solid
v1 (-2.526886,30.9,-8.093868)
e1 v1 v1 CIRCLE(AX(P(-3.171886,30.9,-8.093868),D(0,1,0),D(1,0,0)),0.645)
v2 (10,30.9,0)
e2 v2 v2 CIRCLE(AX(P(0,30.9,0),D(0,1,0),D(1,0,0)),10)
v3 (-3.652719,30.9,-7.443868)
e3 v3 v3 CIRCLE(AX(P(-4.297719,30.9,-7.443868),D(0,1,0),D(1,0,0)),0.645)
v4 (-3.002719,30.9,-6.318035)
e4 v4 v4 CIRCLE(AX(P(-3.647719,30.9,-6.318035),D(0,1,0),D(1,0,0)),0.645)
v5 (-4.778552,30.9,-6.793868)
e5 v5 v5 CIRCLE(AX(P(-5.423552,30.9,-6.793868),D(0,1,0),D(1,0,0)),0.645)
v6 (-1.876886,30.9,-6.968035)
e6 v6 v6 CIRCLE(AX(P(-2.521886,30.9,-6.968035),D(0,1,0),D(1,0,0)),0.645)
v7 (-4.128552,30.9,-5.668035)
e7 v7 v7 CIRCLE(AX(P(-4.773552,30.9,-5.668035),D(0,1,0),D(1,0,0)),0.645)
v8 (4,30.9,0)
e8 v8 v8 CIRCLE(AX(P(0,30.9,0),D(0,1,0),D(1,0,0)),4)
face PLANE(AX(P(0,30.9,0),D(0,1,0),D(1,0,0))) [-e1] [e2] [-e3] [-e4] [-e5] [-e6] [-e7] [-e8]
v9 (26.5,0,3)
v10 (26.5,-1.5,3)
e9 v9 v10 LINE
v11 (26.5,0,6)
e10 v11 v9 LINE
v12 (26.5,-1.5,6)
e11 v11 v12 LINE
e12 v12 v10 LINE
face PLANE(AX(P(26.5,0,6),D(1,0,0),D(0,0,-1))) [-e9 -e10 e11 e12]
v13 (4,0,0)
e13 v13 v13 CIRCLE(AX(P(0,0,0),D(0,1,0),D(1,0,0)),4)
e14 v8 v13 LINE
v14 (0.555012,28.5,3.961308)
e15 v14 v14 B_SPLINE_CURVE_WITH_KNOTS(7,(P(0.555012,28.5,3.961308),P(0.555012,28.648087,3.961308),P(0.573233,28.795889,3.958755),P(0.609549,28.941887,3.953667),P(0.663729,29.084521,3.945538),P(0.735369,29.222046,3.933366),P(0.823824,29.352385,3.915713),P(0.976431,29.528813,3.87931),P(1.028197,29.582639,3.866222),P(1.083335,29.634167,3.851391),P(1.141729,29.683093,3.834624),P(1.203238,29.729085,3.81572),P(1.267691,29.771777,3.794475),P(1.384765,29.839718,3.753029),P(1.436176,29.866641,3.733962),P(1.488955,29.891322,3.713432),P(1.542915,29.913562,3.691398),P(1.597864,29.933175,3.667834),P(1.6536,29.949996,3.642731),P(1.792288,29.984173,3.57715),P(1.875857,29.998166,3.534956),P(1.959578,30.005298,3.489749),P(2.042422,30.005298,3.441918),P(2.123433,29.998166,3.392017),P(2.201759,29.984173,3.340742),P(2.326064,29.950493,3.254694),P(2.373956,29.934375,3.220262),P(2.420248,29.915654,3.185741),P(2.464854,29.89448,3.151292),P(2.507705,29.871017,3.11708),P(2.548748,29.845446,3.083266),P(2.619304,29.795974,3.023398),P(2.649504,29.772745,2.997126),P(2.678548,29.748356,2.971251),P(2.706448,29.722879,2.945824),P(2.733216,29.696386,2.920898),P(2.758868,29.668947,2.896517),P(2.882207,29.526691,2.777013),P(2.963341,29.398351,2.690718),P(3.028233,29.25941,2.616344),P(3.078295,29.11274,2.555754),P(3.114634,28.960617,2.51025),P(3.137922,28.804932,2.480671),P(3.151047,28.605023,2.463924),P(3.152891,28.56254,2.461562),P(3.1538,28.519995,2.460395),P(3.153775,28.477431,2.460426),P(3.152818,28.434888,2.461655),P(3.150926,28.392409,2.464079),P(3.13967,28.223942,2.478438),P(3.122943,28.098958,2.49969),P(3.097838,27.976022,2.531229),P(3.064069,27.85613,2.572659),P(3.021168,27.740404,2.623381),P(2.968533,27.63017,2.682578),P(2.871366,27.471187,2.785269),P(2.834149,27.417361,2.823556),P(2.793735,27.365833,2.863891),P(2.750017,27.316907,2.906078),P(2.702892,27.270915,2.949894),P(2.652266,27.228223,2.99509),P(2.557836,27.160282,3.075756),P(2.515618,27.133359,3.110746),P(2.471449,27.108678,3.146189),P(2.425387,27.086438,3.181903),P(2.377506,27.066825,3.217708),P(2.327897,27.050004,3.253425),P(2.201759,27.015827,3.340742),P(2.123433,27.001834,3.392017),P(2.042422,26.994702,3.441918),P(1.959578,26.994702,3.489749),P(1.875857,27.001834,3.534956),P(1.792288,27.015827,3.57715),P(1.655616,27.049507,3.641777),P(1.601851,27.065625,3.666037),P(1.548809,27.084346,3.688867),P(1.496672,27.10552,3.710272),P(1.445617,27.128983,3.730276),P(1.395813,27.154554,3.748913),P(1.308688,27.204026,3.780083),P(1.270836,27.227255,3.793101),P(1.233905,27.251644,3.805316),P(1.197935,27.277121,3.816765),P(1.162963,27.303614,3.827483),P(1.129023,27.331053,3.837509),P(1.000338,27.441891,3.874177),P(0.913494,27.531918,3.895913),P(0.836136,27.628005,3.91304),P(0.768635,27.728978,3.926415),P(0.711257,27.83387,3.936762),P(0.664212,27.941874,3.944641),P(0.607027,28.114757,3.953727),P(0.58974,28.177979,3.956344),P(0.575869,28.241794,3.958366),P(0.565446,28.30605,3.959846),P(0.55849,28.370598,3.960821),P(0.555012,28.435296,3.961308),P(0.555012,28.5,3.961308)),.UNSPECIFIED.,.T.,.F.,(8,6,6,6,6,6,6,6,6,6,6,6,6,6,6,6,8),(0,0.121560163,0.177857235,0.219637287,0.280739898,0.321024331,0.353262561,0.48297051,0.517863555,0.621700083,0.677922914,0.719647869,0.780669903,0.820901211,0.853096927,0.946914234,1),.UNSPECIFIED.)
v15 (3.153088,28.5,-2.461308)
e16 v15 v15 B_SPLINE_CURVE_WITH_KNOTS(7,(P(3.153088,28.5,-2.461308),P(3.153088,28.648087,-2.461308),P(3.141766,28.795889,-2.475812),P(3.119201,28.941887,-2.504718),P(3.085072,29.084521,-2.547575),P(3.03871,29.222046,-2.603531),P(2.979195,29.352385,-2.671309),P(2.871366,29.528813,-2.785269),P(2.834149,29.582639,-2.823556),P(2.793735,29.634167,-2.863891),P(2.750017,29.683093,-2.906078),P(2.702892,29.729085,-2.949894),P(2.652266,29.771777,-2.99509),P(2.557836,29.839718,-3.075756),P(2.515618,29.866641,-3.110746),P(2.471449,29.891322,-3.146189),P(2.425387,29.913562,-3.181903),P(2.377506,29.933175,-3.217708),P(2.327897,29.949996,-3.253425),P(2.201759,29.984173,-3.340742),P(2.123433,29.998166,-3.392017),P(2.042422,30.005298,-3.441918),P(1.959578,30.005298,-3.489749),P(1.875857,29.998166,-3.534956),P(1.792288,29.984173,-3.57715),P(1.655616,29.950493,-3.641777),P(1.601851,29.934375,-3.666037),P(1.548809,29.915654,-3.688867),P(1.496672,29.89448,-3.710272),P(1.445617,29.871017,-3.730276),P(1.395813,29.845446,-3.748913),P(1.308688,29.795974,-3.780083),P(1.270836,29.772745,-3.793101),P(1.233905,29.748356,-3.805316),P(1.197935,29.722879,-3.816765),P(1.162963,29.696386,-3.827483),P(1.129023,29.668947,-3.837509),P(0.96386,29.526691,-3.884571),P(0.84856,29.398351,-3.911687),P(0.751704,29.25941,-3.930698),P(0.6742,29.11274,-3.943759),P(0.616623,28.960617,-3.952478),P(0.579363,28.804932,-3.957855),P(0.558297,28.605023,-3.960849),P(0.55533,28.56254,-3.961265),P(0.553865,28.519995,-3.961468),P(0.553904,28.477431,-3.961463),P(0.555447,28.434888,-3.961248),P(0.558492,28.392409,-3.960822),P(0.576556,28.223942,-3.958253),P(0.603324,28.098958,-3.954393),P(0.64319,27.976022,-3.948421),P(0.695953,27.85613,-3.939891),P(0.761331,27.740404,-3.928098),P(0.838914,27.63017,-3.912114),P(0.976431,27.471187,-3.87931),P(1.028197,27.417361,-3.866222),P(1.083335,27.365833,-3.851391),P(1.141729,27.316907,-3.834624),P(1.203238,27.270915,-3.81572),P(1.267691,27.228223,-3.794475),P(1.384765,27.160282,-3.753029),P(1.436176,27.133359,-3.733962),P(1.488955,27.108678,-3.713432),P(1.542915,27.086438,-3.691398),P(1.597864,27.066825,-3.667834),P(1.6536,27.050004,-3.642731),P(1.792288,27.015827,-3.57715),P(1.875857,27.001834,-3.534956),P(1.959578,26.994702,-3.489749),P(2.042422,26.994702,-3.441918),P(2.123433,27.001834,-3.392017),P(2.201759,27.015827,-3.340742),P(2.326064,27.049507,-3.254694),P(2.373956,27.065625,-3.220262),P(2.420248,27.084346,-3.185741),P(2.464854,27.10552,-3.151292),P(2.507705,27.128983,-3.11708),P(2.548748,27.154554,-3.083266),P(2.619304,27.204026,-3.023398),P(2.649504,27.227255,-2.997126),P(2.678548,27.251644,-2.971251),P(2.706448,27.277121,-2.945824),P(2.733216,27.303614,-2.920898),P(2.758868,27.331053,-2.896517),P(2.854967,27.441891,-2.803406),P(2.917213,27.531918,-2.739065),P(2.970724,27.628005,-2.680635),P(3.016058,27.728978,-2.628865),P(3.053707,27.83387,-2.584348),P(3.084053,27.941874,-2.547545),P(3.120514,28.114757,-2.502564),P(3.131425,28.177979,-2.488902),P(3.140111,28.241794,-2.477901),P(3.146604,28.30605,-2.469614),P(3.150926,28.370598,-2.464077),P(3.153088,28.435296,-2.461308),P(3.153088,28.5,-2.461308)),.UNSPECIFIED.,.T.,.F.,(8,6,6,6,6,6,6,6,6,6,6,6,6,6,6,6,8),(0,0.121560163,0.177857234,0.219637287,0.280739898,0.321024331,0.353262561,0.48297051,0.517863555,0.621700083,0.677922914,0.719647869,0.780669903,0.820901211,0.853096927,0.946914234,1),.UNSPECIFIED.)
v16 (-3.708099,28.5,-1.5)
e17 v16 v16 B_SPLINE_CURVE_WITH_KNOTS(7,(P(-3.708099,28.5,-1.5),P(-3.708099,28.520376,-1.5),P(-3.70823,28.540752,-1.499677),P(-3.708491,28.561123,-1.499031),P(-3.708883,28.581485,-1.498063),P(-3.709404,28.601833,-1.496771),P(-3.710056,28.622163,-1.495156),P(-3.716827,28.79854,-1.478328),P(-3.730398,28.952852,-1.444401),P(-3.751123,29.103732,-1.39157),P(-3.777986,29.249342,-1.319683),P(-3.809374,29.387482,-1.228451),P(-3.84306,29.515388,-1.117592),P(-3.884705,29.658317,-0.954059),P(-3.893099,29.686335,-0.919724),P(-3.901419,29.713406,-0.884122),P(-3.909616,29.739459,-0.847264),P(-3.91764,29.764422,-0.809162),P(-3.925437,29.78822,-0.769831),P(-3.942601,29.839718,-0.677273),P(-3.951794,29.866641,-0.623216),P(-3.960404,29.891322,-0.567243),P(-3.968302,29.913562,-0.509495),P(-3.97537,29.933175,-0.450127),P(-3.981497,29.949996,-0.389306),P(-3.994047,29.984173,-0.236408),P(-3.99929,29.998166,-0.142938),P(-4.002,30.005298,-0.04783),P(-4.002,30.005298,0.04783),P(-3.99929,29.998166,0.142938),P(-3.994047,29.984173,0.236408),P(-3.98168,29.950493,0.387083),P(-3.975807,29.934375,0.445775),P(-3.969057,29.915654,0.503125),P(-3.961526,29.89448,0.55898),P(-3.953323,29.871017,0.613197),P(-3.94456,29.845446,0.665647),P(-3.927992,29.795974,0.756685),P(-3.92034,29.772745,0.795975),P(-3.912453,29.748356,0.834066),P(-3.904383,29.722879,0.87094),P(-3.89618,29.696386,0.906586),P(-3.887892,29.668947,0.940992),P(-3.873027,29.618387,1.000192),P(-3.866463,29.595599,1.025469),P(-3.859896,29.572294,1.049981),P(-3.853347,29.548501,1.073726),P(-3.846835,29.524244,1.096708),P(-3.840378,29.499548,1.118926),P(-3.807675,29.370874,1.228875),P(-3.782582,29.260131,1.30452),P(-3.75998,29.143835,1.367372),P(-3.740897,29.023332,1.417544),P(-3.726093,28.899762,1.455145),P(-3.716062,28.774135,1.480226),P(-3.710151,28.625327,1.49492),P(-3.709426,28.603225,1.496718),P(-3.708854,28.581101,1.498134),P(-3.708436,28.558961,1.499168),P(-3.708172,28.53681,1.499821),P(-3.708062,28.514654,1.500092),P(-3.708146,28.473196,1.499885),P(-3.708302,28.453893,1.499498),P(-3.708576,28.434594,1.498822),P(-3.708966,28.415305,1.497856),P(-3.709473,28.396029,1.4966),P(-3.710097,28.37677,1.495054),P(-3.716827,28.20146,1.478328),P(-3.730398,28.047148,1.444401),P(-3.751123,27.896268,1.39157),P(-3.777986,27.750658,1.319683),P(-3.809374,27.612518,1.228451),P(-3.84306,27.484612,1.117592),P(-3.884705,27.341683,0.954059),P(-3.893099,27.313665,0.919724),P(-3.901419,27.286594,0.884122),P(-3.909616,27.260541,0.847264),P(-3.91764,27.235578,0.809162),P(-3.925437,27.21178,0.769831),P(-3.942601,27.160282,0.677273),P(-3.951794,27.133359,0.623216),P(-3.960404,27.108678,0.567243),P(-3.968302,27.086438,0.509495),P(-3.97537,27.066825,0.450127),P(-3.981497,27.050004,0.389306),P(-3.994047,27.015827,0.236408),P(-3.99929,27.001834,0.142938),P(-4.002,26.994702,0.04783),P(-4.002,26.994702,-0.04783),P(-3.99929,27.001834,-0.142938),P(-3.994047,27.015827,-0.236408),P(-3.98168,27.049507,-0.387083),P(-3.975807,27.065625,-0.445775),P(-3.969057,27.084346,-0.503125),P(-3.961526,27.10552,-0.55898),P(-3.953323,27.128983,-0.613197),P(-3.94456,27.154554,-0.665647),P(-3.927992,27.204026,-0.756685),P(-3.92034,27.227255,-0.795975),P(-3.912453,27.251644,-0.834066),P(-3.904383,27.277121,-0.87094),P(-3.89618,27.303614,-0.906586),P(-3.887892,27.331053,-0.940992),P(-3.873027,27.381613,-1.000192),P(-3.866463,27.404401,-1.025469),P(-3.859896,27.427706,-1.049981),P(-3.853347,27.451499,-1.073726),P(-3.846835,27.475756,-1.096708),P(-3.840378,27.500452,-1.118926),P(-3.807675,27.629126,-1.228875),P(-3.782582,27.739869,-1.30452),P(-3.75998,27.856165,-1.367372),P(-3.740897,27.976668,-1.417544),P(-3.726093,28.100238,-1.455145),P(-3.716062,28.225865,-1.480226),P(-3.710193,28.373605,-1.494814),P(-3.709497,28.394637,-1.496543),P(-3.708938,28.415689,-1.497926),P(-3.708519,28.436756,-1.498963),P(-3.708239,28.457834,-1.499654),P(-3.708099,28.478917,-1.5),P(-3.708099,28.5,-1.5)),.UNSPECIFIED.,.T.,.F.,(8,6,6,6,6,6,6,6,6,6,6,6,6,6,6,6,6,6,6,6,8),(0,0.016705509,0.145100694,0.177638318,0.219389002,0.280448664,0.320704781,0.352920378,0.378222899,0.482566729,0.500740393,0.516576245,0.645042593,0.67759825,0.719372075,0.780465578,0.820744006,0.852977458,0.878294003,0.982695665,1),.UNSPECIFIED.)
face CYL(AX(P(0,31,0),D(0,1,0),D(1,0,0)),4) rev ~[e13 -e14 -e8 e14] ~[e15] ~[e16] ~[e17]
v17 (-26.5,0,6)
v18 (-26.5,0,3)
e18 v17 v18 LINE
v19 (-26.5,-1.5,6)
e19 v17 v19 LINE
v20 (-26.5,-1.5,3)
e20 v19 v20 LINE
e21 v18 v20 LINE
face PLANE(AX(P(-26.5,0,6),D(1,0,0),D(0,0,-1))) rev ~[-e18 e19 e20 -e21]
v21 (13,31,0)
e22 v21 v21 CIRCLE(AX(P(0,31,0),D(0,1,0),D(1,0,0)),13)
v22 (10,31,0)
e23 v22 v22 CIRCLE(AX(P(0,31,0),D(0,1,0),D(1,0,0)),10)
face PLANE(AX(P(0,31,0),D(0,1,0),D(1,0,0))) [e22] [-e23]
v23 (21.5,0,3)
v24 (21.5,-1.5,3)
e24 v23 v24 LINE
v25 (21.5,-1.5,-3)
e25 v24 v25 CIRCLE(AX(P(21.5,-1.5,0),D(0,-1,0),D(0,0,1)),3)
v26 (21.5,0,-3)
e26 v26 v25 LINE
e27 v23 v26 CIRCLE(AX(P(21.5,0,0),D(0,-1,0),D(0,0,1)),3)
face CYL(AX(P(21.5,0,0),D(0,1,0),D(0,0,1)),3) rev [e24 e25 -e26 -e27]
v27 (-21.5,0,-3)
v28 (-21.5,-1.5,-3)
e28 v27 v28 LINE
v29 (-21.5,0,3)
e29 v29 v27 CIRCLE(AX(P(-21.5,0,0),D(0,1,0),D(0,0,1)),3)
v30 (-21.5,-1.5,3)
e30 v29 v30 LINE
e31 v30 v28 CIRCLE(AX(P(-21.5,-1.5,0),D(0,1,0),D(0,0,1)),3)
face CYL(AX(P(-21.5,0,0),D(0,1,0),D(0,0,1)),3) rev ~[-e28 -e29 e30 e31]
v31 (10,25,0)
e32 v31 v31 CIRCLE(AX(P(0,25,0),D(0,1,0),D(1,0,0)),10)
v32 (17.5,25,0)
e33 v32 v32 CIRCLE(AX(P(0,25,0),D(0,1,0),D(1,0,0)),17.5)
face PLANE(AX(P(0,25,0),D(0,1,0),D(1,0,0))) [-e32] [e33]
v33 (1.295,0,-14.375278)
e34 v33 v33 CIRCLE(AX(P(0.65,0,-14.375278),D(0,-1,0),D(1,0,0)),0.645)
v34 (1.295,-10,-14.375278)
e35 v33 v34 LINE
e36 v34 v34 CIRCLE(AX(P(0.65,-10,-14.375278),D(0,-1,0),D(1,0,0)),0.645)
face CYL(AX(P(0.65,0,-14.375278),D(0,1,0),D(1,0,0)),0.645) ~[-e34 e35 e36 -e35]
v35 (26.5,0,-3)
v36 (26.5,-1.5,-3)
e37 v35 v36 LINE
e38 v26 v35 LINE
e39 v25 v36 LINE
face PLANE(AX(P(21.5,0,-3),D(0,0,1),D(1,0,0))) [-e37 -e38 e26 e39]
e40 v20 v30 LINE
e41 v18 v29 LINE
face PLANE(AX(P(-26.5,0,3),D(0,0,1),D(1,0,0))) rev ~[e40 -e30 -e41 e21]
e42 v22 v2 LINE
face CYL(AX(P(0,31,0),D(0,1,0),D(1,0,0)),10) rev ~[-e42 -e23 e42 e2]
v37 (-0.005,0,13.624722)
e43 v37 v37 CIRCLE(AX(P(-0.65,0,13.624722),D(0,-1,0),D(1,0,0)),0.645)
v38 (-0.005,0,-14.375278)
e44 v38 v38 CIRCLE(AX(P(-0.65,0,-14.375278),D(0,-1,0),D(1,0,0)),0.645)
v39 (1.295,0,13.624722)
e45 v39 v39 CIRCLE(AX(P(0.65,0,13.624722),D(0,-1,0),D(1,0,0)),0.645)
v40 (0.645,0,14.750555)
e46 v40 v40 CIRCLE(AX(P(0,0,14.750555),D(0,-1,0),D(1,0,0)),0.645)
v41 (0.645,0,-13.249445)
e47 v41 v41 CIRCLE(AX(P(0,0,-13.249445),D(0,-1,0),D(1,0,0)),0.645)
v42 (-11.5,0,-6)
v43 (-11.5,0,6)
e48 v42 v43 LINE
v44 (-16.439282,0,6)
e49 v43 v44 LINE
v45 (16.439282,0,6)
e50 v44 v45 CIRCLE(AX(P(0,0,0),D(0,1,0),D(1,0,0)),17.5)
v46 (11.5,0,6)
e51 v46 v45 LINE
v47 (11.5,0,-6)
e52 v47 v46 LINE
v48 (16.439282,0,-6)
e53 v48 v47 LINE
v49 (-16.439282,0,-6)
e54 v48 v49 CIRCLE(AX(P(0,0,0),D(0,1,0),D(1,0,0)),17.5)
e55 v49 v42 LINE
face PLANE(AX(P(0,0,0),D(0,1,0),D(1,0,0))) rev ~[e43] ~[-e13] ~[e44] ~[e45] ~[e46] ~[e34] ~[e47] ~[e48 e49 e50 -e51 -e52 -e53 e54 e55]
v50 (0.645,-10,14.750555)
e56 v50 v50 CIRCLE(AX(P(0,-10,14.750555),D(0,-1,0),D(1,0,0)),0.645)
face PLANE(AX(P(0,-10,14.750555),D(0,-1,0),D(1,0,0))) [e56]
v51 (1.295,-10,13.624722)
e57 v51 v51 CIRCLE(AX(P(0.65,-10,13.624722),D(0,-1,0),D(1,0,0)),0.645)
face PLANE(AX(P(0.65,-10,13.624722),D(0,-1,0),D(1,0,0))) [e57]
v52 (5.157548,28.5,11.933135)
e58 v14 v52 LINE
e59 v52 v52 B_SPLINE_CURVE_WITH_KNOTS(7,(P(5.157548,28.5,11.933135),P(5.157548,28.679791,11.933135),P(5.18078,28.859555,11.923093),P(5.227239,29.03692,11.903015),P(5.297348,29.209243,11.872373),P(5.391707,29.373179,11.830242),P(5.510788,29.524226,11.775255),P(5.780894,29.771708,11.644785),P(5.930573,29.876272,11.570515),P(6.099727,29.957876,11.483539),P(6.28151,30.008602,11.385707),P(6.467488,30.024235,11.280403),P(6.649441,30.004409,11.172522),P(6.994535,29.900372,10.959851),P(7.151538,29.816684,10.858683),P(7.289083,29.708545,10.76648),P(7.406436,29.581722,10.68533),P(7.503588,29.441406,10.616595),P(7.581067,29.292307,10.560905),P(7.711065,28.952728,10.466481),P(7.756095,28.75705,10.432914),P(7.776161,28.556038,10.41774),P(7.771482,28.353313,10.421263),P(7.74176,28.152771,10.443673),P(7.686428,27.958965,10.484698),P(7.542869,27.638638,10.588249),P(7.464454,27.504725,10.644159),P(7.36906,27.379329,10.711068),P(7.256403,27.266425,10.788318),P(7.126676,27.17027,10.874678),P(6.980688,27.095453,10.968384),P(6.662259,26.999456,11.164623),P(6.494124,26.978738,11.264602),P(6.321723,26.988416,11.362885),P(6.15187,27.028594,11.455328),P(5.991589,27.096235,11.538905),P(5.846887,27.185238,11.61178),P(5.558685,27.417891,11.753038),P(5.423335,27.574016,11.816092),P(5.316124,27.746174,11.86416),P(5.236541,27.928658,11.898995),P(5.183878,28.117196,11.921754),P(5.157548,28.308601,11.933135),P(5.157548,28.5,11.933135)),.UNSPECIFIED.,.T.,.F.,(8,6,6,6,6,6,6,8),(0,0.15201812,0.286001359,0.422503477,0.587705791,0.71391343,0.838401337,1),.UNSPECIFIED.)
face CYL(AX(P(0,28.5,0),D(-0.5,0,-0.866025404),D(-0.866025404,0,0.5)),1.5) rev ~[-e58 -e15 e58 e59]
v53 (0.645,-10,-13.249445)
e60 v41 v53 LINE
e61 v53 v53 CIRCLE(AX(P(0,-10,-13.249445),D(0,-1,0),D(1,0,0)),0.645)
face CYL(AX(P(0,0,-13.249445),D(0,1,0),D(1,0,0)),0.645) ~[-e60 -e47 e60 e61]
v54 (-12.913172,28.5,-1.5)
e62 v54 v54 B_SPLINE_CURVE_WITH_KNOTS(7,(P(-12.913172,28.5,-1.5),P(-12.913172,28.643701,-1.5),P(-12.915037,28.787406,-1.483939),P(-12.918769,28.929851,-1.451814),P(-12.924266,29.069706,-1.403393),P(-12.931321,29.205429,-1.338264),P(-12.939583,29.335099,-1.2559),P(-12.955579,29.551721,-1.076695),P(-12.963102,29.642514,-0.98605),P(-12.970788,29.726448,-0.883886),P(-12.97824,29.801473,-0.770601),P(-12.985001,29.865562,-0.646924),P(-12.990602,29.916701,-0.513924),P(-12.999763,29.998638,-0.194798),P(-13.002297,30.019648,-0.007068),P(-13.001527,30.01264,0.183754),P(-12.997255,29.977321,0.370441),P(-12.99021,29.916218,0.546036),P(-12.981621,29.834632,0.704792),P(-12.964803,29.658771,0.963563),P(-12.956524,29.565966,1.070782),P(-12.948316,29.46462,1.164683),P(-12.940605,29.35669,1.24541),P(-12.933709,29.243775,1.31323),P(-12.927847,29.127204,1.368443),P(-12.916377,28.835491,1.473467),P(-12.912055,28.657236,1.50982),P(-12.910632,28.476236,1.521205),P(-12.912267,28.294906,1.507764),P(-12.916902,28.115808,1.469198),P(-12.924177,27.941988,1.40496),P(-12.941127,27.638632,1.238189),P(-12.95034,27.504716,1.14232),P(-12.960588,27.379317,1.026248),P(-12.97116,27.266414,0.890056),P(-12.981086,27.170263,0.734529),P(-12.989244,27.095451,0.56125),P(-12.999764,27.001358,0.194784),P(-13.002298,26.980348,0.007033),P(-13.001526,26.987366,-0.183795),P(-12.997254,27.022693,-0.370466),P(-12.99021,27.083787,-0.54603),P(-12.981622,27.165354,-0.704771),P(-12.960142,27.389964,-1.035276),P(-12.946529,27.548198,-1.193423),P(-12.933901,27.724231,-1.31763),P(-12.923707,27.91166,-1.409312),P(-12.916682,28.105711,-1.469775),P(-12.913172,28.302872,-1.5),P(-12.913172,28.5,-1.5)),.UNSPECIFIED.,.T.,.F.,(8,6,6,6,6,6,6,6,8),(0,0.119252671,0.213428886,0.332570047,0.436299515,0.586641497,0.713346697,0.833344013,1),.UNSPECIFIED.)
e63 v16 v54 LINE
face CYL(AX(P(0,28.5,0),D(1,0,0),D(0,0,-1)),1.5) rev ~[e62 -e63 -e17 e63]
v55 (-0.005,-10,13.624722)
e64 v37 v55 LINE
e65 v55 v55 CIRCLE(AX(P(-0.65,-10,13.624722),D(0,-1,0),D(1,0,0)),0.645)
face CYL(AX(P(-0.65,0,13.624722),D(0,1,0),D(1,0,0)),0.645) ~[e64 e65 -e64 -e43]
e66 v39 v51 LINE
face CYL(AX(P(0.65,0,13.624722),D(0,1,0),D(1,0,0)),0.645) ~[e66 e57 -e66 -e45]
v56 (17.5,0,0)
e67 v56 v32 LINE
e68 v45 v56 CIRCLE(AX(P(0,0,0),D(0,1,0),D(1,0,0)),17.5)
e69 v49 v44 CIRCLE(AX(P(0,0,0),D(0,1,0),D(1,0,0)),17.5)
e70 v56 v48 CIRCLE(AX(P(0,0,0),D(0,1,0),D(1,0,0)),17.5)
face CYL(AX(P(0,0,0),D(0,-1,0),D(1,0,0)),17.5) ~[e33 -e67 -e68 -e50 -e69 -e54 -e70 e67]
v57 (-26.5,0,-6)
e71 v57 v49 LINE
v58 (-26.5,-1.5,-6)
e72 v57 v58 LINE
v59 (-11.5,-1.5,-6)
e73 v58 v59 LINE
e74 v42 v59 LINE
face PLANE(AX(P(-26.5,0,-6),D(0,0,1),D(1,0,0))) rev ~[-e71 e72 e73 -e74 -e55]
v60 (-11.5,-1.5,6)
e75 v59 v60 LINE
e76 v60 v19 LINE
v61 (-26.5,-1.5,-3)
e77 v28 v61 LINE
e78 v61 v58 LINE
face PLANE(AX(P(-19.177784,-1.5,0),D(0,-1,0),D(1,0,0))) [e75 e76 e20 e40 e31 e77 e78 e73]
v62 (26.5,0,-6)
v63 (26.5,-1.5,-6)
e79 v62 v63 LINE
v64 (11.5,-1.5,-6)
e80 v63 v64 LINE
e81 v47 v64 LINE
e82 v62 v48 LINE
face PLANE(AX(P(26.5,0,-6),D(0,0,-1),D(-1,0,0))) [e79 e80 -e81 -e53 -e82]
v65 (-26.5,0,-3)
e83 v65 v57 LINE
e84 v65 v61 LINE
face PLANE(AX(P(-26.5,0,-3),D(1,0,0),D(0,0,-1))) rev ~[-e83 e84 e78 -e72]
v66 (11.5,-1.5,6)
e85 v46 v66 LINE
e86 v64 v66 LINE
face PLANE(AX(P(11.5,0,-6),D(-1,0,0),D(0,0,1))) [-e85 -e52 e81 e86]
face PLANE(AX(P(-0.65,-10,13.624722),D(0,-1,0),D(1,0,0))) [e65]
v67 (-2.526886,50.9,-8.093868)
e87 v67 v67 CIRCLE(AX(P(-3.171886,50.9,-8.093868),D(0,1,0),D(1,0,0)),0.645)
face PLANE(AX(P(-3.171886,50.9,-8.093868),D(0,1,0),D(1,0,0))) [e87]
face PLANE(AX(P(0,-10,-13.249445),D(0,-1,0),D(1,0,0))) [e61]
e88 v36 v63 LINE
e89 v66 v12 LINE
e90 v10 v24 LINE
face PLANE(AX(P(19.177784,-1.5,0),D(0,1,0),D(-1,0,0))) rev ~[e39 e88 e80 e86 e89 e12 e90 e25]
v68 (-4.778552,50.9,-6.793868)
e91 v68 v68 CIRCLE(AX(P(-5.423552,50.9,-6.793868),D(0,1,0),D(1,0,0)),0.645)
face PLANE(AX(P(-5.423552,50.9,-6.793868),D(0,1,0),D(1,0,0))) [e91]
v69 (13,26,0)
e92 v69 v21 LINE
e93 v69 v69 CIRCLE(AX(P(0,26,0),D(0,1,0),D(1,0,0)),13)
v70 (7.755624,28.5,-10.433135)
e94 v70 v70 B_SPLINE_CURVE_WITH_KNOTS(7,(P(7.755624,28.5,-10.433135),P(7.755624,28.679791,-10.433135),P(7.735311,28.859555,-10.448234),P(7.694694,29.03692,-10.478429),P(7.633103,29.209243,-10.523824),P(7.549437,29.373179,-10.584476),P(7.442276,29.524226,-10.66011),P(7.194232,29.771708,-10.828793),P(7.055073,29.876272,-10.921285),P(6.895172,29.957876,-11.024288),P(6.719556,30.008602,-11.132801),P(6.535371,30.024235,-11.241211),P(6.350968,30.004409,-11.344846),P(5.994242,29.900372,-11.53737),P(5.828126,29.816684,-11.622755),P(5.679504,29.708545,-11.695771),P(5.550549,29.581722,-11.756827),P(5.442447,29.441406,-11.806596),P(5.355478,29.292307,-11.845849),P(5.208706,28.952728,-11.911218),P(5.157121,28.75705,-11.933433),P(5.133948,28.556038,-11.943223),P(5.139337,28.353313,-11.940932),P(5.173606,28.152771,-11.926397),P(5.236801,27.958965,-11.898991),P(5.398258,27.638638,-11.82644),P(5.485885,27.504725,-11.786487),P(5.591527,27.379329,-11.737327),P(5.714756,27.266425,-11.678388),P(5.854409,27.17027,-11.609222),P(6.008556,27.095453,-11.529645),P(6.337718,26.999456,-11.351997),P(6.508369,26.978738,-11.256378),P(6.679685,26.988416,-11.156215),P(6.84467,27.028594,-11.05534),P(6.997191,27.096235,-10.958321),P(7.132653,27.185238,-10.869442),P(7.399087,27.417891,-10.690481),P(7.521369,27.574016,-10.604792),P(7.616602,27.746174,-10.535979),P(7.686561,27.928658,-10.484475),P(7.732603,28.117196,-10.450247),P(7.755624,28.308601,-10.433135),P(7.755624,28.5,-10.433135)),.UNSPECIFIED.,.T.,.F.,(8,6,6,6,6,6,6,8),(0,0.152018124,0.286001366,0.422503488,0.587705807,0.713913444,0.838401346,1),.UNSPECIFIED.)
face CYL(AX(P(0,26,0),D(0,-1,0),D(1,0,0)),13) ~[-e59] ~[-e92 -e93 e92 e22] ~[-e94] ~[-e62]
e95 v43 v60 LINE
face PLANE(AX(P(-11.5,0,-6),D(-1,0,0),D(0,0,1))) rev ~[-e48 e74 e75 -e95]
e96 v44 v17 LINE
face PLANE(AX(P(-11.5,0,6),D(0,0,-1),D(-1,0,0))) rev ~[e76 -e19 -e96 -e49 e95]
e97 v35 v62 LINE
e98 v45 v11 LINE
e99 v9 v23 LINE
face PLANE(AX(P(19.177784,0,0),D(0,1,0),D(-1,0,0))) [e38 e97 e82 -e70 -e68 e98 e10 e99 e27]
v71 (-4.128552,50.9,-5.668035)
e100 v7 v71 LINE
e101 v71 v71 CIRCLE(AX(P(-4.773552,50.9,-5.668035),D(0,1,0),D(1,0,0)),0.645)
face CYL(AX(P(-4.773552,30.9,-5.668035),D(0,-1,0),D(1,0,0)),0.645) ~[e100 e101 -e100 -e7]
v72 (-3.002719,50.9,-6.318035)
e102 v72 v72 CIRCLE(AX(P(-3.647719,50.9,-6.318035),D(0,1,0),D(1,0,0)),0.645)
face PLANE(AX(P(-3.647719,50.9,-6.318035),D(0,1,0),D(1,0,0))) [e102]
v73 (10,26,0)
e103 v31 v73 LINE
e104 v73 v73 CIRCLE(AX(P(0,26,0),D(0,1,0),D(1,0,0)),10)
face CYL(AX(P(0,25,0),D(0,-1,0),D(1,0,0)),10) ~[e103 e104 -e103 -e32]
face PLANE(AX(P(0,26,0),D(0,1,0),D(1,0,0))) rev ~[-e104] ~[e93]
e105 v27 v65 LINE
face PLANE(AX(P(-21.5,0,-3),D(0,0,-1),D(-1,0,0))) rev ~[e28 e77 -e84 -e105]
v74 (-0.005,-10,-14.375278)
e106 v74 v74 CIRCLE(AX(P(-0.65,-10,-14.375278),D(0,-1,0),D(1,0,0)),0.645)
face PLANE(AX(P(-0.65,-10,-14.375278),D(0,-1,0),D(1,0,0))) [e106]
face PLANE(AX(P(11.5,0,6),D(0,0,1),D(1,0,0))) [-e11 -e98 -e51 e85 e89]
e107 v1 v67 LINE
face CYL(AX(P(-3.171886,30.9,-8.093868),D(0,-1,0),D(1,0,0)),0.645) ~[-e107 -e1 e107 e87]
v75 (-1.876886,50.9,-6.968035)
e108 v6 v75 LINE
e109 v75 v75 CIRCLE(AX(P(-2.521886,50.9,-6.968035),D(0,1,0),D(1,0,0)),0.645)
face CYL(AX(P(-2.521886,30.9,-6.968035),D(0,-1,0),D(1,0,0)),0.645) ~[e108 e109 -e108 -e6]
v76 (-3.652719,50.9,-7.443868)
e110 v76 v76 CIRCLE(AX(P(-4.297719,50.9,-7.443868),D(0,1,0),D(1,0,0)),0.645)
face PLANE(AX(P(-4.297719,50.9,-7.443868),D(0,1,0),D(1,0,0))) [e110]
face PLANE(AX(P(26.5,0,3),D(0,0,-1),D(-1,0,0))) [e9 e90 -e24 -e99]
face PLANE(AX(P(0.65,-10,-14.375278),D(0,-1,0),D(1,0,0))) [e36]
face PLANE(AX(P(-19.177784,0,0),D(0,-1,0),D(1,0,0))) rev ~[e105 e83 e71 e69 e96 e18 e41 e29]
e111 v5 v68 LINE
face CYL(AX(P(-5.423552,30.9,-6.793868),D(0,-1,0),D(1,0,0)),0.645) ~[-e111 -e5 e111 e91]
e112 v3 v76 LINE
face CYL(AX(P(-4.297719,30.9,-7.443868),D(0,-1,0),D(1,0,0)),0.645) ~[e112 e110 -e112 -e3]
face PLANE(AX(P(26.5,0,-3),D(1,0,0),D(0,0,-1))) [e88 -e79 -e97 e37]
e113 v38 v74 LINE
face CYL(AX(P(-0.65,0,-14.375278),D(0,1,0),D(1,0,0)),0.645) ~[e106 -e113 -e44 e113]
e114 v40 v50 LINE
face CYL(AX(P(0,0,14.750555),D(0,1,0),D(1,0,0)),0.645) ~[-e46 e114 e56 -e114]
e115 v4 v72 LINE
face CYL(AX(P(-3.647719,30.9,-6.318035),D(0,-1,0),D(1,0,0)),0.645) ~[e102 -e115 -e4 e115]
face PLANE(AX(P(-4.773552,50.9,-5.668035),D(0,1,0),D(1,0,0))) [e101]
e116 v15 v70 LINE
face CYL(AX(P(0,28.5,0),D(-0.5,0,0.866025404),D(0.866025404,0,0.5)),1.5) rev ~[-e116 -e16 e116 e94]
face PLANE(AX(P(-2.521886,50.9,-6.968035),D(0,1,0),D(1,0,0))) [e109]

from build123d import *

# Parameters (mm, degrees)
SKETCH_1_R               = 17.5
EXTRUDE_1_DEPTH          = 25
SKETCH_2_R               = 10
EXTRUDE_2_DEPTH          = 1
SKETCH_3_R               = 13
EXTRUDE_3_DEPTH          = 5
SKETCH_4_R               = 4
CUT_EXTRUDE_1_DEPTH      = 47
SKETCH_5_R               = 1.5
CUT_EXTRUDE_2_DEPTH      = 47
PATTERN_CIRCULAR_1_COUNT = 3
SKETCH_8_R               = 10
CUT_EXTRUDE_3_DEPTH      = 0.1
SKETCH_9_R               = 0.645
EXTRUDE_4_DEPTH          = 20
SKETCH_10_R              = 0.645
EXTRUDE_5_DEPTH          = 10
EXTRUDE_6_DEPTH          = 1.5


with BuildPart() as part:
    # 草图1 → 凸台-拉伸1 (new body)
    with BuildSketch(Plane(origin=(0, 0, 0), x_dir=(1, 0, 0), z_dir=(0, 1, 0))):
        Circle(SKETCH_1_R)
    extrude(amount=EXTRUDE_1_DEPTH)

    # 草图2 → 凸台-拉伸2 (add)
    with BuildSketch(Plane(origin=(0, 25, 0), x_dir=(1, 0, 0), z_dir=(0, 1, 0))):
        Circle(SKETCH_2_R)
    extrude(amount=EXTRUDE_2_DEPTH)

    # 草图3 → 凸台-拉伸3 (add)
    with BuildSketch(Plane(origin=(0, 26, 0), x_dir=(1, 0, 0), z_dir=(0, 1, 0))):
        Circle(SKETCH_3_R)
    extrude(amount=EXTRUDE_3_DEPTH)

    # 草图4 → 切除-拉伸1 (cut)
    with BuildSketch(Plane(origin=(0, 31, 0), x_dir=(1, 0, 0), z_dir=(0, 1, 0))):
        Circle(SKETCH_4_R)
    extrude(amount=-CUT_EXTRUDE_1_DEPTH, mode=Mode.SUBTRACT)

    # 草图5 → 切除-拉伸2 (cut)
    with BuildSketch(Plane(origin=(0, 0, 0), x_dir=(0, 0, -1), z_dir=(1, 0, 0))):
        with Locations((0, 28.5)):
            Circle(SKETCH_5_R)
    cut_extrude_2 = extrude(amount=-CUT_EXTRUDE_2_DEPTH, mode=Mode.SUBTRACT)

    # 阵列(圆周)1: 切除-拉伸2 ×3 about axis
    pattern_circular_1_axis = Axis((0, 39.080777009, 0), (0, -1, 0))
    for i in range(1, PATTERN_CIRCULAR_1_COUNT):
        add(cut_extrude_2.rotate(pattern_circular_1_axis, i * 360 / PATTERN_CIRCULAR_1_COUNT), mode=Mode.SUBTRACT)

    # 草图8 → 切除-拉伸3 (cut)
    with BuildSketch(Plane(origin=(0, 31, 0), x_dir=(1, 0, 0), z_dir=(0, 1, 0))):
        Circle(SKETCH_8_R)
    extrude(amount=-CUT_EXTRUDE_3_DEPTH, mode=Mode.SUBTRACT)

    # 草图9 → 凸台-拉伸4 (add)
    with BuildSketch(Plane(origin=(0, 30.9, 0), x_dir=(1, 0, 0), z_dir=(0, 1, 0))):
        with Locations((-5.423552013, 6.793867644)):
            Circle(SKETCH_9_R)
        with Locations((-4.297718988, 7.443867644)):
            Circle(SKETCH_9_R)
        with Locations((-3.171885963, 8.093867644)):
            Circle(SKETCH_9_R)
        with Locations((-4.773552013, 5.668034619)):
            Circle(SKETCH_9_R)
        with Locations((-3.647718988, 6.318034619)):
            Circle(SKETCH_9_R)
        with Locations((-2.521885963, 6.968034619)):
            Circle(SKETCH_9_R)
    extrude(amount=EXTRUDE_4_DEPTH)

    # 草图10 → 凸台-拉伸5 (add)
    with BuildSketch(Plane.XZ):
        with Locations((0.65, 13.624722325)):
            Circle(SKETCH_10_R)
        with Locations((-0.65, 13.624722325)):
            Circle(SKETCH_10_R)
        with Locations((0, 14.75055535)):
            Circle(SKETCH_10_R)
        with Locations((0.65, -14.375277675)):
            Circle(SKETCH_10_R)
        with Locations((-0.65, -14.375277675)):
            Circle(SKETCH_10_R)
        with Locations((0, -13.24944465)):
            Circle(SKETCH_10_R)
    extrude(amount=EXTRUDE_5_DEPTH)

    # 草图11 → 凸台-拉伸6 (add)
    with BuildSketch(Plane.XZ):
        with BuildLine():
            Line((-26.5, 3), (-21.5, 3))
            ThreePointArc((-21.5, 3), (-18.5, 0), (-21.5, -3))
            Line((-21.5, -3), (-26.5, -3))
            Line((-26.5, -3), (-26.5, -6))
            Line((-26.5, -6), (-11.5, -6))
            Line((-11.5, -6), (-11.5, 6))
            Line((-11.5, 6), (-26.5, 6))
            Line((-26.5, 6), (-26.5, 3))
        make_face()
        with BuildLine():
            Line((11.5, -6), (11.5, 6))
            Line((11.5, 6), (26.5, 6))
            Line((26.5, 6), (26.5, 3))
            Line((26.5, 3), (21.5, 3))
            ThreePointArc((21.5, 3), (18.5, 0), (21.5, -3))
            Line((21.5, -3), (26.5, -3))
            Line((26.5, -3), (26.5, -6))
            Line((26.5, -6), (11.5, -6))
        make_face()
    extrude(amount=EXTRUDE_6_DEPTH)


solid = part.part
